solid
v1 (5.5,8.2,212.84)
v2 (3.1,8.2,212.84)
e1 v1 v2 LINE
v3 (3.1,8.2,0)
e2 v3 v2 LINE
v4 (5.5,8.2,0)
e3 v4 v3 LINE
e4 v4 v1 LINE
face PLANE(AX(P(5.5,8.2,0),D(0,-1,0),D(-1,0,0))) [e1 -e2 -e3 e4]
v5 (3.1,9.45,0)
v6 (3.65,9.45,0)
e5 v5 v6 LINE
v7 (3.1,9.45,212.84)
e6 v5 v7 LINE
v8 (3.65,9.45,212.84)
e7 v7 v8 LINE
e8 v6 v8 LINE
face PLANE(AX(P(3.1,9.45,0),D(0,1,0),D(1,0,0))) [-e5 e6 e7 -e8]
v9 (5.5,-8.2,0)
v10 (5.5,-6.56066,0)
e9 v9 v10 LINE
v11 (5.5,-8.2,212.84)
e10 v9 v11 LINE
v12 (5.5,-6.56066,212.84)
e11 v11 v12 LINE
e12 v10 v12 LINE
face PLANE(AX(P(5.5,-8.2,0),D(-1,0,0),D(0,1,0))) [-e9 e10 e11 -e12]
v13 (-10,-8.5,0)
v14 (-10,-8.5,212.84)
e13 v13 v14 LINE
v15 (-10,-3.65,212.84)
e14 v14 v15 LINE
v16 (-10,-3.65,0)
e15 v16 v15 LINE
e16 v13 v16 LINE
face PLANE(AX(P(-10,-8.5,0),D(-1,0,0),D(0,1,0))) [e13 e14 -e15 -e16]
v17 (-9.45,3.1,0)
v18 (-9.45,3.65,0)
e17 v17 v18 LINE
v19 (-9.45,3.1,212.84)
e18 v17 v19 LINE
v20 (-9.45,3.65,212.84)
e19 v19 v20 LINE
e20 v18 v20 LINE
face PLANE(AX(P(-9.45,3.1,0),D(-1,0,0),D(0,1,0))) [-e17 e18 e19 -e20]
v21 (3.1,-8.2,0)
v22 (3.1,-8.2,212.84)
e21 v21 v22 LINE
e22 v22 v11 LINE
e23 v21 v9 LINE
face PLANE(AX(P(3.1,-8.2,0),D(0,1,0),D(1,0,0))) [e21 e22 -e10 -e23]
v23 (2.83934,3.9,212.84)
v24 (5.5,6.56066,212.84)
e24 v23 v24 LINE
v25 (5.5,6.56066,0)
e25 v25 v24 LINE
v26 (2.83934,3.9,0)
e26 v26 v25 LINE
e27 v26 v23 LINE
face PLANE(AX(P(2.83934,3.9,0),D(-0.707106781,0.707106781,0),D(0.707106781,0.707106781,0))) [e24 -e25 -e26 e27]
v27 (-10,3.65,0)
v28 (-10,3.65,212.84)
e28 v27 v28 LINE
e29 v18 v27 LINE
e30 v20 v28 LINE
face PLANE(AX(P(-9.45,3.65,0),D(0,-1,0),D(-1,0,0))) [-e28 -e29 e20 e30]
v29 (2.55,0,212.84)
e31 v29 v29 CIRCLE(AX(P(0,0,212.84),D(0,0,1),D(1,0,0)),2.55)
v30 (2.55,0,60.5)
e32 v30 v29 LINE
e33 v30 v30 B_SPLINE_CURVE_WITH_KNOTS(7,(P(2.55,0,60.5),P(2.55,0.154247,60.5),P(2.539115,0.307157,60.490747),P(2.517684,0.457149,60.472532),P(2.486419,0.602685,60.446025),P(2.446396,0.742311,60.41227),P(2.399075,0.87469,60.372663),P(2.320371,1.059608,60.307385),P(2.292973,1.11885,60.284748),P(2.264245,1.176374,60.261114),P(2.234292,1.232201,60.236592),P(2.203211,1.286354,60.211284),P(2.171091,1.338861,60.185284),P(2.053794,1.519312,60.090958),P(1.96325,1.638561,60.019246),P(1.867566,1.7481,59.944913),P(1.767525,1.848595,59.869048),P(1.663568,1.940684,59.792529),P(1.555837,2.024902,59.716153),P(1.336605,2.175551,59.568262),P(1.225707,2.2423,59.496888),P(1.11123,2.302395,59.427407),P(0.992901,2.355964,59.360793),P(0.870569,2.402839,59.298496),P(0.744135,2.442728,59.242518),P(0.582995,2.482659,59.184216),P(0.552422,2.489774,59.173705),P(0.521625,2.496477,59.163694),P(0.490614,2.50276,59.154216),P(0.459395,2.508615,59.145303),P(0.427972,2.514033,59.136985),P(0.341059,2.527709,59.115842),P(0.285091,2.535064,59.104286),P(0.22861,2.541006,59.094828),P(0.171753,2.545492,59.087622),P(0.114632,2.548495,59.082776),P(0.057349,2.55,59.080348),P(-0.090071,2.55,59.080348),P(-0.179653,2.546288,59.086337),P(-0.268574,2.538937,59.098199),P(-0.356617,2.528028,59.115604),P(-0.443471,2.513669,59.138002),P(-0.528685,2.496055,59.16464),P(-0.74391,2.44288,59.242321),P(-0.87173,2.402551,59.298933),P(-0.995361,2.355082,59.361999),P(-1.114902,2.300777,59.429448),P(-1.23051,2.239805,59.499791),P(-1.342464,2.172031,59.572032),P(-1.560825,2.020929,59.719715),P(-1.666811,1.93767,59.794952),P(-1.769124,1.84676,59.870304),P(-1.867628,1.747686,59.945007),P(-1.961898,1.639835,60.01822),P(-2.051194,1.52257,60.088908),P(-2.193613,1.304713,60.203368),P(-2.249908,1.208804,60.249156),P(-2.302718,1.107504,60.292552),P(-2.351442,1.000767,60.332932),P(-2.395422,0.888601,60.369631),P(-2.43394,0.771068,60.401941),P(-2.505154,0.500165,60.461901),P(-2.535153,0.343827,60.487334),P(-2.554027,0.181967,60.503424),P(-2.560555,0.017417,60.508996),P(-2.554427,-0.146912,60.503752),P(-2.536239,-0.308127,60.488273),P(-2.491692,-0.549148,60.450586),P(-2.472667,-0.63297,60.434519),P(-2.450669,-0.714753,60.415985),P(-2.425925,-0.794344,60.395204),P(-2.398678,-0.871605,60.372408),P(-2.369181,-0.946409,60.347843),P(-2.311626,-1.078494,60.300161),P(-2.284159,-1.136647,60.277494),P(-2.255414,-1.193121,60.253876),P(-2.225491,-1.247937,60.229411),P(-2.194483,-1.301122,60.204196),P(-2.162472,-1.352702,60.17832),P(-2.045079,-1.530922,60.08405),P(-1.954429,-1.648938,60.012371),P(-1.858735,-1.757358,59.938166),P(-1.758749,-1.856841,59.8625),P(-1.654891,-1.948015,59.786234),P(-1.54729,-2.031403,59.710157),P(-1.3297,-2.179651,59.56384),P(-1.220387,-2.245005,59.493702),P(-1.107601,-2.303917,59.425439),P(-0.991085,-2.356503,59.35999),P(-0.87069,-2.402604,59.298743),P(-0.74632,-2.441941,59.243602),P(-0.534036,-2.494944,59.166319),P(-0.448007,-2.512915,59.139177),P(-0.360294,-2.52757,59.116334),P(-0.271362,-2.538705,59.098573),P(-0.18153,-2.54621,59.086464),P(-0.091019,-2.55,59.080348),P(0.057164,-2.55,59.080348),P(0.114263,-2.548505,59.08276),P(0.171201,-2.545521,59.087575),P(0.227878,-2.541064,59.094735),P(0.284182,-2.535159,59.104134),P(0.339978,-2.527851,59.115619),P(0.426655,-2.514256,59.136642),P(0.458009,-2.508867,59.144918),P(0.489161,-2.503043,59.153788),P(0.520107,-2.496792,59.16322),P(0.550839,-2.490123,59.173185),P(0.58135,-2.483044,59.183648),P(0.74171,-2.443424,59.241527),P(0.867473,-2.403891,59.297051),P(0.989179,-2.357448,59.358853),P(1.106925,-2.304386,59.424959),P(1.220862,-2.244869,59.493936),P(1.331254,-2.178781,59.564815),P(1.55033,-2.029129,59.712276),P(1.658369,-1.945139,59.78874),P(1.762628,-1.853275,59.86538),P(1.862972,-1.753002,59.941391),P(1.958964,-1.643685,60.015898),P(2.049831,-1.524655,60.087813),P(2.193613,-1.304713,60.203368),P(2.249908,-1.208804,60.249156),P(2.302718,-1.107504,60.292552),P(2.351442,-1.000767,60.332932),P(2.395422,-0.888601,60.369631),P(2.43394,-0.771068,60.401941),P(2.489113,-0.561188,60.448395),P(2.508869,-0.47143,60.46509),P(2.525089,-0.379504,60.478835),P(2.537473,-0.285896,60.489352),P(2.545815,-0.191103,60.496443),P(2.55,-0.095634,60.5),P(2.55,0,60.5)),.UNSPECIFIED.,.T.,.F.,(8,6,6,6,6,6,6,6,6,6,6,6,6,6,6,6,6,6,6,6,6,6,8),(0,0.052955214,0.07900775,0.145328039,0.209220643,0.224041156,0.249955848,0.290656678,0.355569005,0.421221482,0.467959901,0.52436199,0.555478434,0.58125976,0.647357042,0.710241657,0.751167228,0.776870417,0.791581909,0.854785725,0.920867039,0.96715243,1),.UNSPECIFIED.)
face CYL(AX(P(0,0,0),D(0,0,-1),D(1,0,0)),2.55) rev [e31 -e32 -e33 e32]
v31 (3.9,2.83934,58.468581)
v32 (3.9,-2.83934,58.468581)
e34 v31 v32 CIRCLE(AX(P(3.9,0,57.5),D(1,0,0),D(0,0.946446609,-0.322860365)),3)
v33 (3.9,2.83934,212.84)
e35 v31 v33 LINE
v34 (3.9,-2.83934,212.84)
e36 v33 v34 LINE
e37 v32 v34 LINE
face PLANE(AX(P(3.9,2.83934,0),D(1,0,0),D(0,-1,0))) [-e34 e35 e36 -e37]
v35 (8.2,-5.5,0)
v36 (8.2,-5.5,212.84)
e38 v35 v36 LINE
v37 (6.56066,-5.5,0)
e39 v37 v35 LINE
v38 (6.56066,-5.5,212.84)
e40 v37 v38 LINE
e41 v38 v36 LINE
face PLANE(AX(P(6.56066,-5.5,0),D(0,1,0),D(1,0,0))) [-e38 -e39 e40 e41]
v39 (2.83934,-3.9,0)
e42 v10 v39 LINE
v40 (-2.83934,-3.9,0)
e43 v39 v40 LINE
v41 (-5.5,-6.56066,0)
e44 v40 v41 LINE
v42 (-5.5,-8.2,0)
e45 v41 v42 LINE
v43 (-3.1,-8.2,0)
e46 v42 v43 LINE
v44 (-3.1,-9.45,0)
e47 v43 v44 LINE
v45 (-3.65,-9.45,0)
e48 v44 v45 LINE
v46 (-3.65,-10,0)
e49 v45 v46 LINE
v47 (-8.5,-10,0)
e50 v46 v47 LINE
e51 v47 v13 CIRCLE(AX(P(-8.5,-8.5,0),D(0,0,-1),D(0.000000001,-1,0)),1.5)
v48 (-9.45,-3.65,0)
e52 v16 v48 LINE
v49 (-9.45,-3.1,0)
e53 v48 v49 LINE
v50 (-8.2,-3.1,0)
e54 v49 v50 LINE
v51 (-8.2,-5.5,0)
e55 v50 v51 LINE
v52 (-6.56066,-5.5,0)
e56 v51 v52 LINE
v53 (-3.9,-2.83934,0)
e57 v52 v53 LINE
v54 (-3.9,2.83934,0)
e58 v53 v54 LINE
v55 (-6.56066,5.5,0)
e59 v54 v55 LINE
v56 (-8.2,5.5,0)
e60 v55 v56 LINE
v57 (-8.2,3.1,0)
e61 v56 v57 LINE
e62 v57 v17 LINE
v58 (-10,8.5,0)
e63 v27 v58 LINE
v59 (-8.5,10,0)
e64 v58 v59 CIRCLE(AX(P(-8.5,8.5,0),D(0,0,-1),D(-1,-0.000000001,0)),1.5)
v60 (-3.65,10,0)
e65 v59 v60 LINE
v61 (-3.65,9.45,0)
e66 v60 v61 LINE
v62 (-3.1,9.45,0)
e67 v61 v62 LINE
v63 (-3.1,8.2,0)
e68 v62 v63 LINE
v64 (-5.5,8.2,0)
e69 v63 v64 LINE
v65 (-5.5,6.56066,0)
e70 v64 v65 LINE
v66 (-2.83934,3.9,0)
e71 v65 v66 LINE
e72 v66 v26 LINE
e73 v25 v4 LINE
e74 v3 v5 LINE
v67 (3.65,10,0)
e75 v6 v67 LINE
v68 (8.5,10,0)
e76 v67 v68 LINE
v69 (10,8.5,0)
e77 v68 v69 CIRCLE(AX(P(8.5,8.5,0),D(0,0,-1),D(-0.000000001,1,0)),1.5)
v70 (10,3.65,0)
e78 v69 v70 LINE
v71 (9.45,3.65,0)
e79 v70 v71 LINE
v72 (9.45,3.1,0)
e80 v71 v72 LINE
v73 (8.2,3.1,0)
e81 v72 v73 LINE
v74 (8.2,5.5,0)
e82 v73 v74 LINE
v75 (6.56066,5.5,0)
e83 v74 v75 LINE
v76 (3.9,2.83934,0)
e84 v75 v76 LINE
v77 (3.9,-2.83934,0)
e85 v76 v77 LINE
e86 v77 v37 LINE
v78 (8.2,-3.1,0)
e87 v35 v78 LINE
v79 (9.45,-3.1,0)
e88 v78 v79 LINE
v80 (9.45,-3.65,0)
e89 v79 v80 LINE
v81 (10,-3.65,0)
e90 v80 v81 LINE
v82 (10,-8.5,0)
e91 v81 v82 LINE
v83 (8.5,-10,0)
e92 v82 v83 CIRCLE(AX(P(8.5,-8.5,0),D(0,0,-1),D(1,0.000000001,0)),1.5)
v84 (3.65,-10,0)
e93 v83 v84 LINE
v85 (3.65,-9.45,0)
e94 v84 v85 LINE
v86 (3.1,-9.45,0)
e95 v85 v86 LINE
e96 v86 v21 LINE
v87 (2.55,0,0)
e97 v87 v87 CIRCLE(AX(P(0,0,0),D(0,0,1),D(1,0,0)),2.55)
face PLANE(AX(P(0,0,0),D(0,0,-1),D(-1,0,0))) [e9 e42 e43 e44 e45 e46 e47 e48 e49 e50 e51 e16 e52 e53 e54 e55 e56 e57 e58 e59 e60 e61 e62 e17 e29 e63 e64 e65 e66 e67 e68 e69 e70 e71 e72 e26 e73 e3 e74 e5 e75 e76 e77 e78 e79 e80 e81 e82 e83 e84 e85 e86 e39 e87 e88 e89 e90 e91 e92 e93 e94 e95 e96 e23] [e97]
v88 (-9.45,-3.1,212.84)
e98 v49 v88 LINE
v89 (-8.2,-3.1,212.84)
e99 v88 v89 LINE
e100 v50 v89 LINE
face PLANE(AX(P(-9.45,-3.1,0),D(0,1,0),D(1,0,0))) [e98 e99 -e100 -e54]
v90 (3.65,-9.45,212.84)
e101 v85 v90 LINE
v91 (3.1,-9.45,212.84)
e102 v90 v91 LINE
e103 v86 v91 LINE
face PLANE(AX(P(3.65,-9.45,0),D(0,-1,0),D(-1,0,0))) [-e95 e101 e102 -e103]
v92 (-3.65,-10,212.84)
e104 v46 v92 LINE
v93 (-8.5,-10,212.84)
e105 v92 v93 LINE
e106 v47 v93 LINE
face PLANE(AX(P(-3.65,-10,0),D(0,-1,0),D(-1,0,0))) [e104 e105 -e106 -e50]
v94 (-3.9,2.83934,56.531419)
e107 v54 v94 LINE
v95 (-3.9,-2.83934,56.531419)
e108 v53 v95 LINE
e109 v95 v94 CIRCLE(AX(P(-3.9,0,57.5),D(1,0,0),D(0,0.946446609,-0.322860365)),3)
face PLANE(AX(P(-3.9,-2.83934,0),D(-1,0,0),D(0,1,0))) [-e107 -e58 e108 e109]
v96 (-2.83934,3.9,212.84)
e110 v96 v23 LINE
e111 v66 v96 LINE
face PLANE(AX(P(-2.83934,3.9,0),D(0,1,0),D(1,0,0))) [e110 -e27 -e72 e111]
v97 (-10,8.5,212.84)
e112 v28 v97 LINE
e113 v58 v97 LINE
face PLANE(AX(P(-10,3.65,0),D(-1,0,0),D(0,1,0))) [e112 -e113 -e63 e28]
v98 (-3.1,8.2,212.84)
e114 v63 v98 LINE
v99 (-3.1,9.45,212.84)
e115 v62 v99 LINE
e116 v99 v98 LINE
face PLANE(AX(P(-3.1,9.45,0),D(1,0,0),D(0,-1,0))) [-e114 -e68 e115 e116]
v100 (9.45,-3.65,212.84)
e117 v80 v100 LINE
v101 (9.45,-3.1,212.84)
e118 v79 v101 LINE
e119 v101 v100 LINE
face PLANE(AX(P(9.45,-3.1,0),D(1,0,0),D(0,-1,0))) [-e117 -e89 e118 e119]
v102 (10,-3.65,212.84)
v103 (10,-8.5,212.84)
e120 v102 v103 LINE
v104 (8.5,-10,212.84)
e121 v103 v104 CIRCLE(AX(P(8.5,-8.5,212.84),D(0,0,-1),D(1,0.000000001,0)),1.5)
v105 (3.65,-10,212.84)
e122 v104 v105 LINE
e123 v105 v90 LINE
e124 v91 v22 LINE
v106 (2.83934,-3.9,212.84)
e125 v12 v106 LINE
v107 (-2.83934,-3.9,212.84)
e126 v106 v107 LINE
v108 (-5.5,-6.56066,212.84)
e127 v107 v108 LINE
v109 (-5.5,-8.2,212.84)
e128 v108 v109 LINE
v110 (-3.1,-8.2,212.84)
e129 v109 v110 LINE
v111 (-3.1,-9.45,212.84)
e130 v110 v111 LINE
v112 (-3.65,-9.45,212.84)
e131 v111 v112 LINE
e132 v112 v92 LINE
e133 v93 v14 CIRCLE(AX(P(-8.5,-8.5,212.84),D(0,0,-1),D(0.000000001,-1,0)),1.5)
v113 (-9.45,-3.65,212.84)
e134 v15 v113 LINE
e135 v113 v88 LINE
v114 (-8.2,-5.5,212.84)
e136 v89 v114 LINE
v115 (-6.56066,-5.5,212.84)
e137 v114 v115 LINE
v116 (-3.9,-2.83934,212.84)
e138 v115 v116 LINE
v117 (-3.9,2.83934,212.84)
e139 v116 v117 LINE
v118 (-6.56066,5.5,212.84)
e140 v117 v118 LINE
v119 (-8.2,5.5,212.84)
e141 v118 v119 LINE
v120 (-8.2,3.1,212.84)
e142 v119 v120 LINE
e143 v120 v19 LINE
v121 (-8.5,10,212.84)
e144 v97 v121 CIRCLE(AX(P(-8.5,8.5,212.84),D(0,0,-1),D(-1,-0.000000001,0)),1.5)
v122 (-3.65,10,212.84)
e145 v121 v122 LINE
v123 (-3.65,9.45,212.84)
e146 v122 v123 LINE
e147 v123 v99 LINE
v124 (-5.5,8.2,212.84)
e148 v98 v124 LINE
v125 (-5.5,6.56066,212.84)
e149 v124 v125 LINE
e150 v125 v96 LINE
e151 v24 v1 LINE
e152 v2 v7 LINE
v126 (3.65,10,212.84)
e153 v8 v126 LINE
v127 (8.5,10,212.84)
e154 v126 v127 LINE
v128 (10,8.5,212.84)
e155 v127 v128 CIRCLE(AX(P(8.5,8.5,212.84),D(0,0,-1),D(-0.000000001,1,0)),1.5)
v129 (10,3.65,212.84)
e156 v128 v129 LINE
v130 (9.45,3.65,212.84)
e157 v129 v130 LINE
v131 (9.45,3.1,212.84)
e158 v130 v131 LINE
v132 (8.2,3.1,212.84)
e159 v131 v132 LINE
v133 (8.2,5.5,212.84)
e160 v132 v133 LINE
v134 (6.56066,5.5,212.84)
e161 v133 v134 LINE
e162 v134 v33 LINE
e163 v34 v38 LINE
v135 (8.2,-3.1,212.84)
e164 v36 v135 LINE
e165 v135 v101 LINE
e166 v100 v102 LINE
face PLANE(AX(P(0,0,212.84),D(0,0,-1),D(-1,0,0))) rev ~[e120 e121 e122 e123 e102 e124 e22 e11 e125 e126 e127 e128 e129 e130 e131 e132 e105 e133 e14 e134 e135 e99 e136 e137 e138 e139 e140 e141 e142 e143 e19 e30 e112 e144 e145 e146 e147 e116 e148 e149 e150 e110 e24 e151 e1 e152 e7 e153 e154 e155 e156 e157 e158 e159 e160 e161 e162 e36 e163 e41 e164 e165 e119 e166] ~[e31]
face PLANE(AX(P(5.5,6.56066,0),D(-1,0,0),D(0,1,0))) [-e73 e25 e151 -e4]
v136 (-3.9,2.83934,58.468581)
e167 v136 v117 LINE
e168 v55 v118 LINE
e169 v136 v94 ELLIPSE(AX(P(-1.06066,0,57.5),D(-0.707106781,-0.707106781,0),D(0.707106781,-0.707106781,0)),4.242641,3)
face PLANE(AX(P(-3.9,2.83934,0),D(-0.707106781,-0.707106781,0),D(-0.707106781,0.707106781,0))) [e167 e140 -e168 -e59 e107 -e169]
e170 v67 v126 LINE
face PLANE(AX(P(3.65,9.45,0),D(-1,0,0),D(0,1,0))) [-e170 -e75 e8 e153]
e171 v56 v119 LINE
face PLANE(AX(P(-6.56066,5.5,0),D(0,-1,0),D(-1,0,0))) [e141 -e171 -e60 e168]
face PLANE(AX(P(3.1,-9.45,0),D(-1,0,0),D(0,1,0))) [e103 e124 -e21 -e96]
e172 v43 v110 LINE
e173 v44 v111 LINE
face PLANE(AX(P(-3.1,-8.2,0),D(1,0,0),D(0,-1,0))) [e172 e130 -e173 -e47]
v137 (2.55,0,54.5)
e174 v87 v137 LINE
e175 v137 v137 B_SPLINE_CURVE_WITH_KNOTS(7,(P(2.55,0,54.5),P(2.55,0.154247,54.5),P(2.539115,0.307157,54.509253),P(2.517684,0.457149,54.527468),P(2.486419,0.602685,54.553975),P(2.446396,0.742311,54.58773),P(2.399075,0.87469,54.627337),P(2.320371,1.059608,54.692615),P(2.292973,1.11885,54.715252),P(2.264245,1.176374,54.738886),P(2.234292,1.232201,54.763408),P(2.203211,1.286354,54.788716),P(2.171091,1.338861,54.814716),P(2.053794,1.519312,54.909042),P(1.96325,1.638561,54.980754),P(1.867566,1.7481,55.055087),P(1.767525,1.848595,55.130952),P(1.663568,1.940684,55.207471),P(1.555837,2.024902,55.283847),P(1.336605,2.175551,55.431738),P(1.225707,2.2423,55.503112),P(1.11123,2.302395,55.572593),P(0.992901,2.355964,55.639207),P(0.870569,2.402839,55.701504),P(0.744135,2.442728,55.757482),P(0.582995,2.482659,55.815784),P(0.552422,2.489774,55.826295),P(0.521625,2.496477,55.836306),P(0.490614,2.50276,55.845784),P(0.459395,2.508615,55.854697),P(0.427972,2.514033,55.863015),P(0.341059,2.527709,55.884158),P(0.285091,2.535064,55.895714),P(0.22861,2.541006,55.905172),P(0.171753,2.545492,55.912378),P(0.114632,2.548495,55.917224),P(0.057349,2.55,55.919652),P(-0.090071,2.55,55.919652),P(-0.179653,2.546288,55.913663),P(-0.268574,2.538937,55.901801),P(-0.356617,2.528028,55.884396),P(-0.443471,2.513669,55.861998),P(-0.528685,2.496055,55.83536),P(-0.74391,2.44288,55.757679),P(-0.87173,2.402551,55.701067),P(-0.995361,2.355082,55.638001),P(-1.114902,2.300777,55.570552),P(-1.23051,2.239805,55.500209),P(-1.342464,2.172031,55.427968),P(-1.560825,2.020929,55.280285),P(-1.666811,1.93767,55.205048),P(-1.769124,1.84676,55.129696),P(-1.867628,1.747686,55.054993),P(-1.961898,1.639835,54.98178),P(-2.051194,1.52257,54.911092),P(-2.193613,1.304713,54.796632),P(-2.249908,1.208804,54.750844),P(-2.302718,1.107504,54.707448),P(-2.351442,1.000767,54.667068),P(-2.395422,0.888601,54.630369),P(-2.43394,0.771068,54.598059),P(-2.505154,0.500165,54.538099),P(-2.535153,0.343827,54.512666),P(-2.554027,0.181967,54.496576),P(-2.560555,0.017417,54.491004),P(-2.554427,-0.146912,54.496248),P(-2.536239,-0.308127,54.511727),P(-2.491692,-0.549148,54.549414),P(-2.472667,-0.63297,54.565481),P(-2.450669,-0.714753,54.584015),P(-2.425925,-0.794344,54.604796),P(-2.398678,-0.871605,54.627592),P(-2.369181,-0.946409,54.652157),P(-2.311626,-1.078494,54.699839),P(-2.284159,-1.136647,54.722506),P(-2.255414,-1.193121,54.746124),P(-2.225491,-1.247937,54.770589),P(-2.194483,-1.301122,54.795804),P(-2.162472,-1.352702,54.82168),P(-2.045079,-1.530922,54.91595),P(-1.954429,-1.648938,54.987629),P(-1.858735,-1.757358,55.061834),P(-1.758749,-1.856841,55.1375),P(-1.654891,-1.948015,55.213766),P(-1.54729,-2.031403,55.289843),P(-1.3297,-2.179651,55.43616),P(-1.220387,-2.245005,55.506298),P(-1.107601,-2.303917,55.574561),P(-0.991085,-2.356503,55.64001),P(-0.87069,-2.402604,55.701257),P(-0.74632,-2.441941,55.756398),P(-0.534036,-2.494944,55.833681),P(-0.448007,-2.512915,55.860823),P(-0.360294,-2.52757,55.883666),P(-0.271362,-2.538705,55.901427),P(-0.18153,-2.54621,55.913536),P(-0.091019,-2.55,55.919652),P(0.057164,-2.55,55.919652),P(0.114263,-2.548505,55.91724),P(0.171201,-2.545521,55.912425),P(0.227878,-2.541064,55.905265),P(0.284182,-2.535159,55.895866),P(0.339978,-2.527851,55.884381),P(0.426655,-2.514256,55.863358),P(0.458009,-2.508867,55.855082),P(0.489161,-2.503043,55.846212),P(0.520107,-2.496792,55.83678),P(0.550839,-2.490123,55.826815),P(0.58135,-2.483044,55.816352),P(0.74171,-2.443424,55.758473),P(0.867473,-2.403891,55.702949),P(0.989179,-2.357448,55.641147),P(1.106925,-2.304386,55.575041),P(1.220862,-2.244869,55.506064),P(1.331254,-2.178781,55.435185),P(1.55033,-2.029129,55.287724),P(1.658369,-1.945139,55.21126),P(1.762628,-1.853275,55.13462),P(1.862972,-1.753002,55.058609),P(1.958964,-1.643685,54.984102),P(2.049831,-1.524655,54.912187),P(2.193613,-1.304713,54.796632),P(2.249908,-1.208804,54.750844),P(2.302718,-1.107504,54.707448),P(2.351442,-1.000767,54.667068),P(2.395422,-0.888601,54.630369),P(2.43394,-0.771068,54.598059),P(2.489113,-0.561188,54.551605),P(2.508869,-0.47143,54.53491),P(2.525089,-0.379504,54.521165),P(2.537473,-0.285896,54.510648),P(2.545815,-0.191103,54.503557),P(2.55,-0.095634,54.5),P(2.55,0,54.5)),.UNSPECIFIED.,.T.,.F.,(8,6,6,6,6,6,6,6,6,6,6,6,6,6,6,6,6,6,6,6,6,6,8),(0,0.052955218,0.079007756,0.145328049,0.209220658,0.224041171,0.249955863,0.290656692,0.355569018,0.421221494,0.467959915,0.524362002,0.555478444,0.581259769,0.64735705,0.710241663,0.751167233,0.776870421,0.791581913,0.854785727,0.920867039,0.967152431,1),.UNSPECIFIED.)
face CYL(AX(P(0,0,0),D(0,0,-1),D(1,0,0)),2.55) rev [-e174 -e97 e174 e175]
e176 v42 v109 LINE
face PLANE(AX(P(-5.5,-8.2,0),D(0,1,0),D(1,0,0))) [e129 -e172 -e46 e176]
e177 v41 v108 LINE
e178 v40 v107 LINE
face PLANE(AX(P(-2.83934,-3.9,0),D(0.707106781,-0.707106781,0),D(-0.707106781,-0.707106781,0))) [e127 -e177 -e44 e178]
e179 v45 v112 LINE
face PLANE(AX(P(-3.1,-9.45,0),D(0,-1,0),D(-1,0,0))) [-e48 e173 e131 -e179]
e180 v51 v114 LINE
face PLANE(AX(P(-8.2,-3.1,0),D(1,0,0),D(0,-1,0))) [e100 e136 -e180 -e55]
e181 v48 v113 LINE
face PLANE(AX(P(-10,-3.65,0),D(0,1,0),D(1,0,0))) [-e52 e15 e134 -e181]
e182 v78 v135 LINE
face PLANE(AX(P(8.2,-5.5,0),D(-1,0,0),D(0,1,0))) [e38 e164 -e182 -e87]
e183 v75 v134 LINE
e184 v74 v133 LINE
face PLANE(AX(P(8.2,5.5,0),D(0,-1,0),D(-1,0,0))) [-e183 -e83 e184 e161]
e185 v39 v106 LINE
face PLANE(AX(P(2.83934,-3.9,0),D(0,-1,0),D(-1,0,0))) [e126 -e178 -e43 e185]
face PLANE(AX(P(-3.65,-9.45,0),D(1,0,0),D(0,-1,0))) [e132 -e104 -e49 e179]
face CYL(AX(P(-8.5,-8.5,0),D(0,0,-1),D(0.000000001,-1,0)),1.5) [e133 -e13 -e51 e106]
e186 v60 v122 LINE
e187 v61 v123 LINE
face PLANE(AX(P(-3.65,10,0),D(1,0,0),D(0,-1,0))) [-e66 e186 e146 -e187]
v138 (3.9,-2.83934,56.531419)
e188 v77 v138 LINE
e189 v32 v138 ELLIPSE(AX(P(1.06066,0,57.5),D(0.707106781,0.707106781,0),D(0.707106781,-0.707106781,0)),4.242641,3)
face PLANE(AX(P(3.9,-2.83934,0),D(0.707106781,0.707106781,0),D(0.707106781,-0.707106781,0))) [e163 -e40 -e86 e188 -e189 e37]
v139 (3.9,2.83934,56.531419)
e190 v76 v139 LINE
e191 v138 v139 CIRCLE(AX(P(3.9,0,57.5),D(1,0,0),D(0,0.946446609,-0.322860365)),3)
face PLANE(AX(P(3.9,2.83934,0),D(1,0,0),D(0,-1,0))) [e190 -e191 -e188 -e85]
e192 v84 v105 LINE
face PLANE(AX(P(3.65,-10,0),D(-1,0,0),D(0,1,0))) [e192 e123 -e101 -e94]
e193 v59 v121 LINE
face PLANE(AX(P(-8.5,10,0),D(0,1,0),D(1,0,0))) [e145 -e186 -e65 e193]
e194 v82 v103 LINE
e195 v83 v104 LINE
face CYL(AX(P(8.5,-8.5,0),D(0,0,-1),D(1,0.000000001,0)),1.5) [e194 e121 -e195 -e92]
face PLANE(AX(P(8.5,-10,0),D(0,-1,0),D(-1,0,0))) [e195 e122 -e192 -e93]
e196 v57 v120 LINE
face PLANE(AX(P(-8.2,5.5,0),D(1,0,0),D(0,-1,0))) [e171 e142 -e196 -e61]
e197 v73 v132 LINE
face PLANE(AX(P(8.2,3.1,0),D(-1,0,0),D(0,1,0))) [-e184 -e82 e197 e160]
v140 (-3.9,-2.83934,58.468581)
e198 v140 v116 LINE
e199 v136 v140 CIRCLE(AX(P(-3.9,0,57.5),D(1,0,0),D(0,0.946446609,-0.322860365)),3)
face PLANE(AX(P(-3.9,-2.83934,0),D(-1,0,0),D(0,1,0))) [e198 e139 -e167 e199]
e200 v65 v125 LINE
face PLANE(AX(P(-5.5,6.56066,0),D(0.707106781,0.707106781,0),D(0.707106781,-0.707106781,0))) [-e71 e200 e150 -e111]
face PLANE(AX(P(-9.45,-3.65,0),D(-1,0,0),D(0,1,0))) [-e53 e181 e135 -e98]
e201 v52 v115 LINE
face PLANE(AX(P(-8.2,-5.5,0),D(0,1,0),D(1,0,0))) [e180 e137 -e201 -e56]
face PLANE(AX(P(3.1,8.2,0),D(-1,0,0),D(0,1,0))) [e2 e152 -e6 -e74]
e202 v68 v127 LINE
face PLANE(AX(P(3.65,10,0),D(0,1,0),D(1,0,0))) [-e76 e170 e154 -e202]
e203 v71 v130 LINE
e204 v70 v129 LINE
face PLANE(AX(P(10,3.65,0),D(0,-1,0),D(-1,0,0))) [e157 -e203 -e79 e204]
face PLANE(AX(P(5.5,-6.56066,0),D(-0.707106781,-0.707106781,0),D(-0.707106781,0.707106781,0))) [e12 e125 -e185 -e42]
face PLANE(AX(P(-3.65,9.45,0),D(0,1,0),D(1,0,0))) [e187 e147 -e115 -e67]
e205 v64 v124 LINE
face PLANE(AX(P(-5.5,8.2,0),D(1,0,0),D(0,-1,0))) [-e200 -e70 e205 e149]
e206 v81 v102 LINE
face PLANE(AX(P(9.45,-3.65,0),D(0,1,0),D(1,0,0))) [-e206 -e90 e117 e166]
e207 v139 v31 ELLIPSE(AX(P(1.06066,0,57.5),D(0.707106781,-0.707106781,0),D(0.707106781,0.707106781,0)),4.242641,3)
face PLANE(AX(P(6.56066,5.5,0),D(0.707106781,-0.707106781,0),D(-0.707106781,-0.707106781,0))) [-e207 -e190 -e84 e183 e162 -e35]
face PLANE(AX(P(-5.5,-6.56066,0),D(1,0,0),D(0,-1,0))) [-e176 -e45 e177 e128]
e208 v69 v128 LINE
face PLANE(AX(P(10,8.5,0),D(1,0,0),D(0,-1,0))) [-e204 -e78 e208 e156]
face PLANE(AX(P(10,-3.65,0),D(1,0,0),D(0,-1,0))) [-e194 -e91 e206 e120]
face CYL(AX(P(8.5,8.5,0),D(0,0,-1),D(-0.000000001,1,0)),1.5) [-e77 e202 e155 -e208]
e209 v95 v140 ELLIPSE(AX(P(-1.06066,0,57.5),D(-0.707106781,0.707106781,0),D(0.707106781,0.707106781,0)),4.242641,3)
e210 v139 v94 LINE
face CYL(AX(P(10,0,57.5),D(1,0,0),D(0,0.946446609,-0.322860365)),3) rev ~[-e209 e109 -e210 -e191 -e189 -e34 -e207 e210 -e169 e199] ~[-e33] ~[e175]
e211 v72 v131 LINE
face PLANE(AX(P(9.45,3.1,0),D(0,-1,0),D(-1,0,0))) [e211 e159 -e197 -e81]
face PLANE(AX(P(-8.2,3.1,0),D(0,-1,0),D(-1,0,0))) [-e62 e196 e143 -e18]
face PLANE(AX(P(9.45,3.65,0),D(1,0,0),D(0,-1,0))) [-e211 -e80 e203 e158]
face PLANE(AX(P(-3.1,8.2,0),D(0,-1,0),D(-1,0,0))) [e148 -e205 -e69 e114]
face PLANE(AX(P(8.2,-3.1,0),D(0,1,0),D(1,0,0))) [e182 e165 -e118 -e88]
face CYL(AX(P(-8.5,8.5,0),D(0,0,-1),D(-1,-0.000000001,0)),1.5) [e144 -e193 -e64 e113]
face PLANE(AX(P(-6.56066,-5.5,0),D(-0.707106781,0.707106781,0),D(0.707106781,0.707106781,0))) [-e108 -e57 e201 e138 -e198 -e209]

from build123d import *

# Parameters (mm, degrees)
SKETCH_2_R          = 2.55
EXTRUDE_1_DEPTH     = 212.84
SKETCH_3_R          = 3
CUT_EXTRUDE_1_DEPTH = 215.011367922


with BuildPart() as part:
    # 草图2 → 凸台-拉伸1 (new body)
    with BuildSketch(Plane.XY):
        with BuildLine():
            Line((-3.9, 2.839339828), (-6.560660172, 5.5))
            Line((-6.560660172, 5.5), (-8.2, 5.5))
            Line((-8.2, 5.5), (-8.2, 3.1))
            Line((-8.2, 3.1), (-9.45, 3.1))
            Line((-9.45, 3.1), (-9.45, 3.65))
            Line((-9.45, 3.65), (-10, 3.65))
            Line((-10, 3.65), (-10, 8.5))
            ThreePointArc((-10, 8.5), (-9.560660172, 9.560660172), (-8.5, 10))
            Line((-8.5, 10), (-3.65, 10))
            Line((-3.65, 10), (-3.65, 9.45))
            Line((-3.65, 9.45), (-3.1, 9.45))
            Line((-3.1, 9.45), (-3.1, 8.2))
            Line((-3.1, 8.2), (-5.5, 8.2))
            Line((-5.5, 8.2), (-5.5, 6.560660172))
            Line((-5.5, 6.560660172), (-2.839339828, 3.9))
            Line((-2.839339828, 3.9), (2.839339828, 3.9))
            Line((2.839339828, 3.9), (5.5, 6.560660172))
            Line((5.5, 6.560660172), (5.5, 8.2))
            Line((5.5, 8.2), (3.1, 8.2))
            Line((3.1, 8.2), (3.1, 9.45))
            Line((3.1, 9.45), (3.65, 9.45))
            Line((3.65, 9.45), (3.65, 10))
            Line((3.65, 10), (8.5, 10))
            ThreePointArc((8.5, 10), (9.560660172, 9.560660172), (10, 8.5))
            Line((10, 8.5), (10, 3.65))
            Line((10, 3.65), (9.45, 3.65))
            Line((9.45, 3.65), (9.45, 3.1))
            Line((9.45, 3.1), (8.2, 3.1))
            Line((8.2, 3.1), (8.2, 5.5))
            Line((8.2, 5.5), (6.560660172, 5.5))
            Line((6.560660172, 5.5), (3.9, 2.839339828))
            Line((3.9, 2.839339828), (3.9, -2.839339828))
            Line((3.9, -2.839339828), (6.560660172, -5.5))
            Line((6.560660172, -5.5), (8.2, -5.5))
            Line((8.2, -5.5), (8.2, -3.1))
            Line((8.2, -3.1), (9.45, -3.1))
            Line((9.45, -3.1), (9.45, -3.65))
            Line((9.45, -3.65), (10, -3.65))
            Line((10, -3.65), (10, -8.5))
            ThreePointArc((10, -8.5), (9.560660172, -9.560660172), (8.5, -10))
            Line((8.5, -10), (3.65, -10))
            Line((3.65, -10), (3.65, -9.45))
            Line((3.65, -9.45), (3.1, -9.45))
            Line((3.1, -9.45), (3.1, -8.2))
            Line((3.1, -8.2), (5.5, -8.2))
            Line((5.5, -8.2), (5.5, -6.560660172))
            Line((5.5, -6.560660172), (2.839339828, -3.9))
            Line((2.839339828, -3.9), (-2.839339828, -3.9))
            Line((-2.839339828, -3.9), (-5.5, -6.560660172))
            Line((-5.5, -6.560660172), (-5.5, -8.2))
            Line((-5.5, -8.2), (-3.1, -8.2))
            Line((-3.1, -8.2), (-3.1, -9.45))
            Line((-3.1, -9.45), (-3.65, -9.45))
            Line((-3.65, -9.45), (-3.65, -10))
            Line((-3.65, -10), (-8.5, -10))
            ThreePointArc((-8.5, -10), (-9.560660172, -9.560660172), (-10, -8.5))
            Line((-10, -8.5), (-10, -3.65))
            Line((-10, -3.65), (-9.45, -3.65))
            Line((-9.45, -3.65), (-9.45, -3.1))
            Line((-9.45, -3.1), (-8.2, -3.1))
            Line((-8.2, -3.1), (-8.2, -5.5))
            Line((-8.2, -5.5), (-6.560660172, -5.5))
            Line((-6.560660172, -5.5), (-3.9, -2.839339828))
            Line((-3.9, -2.839339828), (-3.9, 2.839339828))
        make_face()
        Circle(SKETCH_2_R, mode=Mode.SUBTRACT)
    extrude(amount=EXTRUDE_1_DEPTH)

    # 草图3 → 切除-拉伸1 (cut, through all)
    with BuildSketch(Plane(origin=(10, 0, 0), x_dir=(0, 0, -1), z_dir=(1, 0, 0))):
        with Locations(Location((-57.5, 0, 0), (0, 0, 71.16400384))):
            Circle(SKETCH_3_R)
        with Locations((-302.5, 0)):
            Circle(SKETCH_3_R)
    extrude(amount=-CUT_EXTRUDE_1_DEPTH, mode=Mode.SUBTRACT)


solid = part.part
